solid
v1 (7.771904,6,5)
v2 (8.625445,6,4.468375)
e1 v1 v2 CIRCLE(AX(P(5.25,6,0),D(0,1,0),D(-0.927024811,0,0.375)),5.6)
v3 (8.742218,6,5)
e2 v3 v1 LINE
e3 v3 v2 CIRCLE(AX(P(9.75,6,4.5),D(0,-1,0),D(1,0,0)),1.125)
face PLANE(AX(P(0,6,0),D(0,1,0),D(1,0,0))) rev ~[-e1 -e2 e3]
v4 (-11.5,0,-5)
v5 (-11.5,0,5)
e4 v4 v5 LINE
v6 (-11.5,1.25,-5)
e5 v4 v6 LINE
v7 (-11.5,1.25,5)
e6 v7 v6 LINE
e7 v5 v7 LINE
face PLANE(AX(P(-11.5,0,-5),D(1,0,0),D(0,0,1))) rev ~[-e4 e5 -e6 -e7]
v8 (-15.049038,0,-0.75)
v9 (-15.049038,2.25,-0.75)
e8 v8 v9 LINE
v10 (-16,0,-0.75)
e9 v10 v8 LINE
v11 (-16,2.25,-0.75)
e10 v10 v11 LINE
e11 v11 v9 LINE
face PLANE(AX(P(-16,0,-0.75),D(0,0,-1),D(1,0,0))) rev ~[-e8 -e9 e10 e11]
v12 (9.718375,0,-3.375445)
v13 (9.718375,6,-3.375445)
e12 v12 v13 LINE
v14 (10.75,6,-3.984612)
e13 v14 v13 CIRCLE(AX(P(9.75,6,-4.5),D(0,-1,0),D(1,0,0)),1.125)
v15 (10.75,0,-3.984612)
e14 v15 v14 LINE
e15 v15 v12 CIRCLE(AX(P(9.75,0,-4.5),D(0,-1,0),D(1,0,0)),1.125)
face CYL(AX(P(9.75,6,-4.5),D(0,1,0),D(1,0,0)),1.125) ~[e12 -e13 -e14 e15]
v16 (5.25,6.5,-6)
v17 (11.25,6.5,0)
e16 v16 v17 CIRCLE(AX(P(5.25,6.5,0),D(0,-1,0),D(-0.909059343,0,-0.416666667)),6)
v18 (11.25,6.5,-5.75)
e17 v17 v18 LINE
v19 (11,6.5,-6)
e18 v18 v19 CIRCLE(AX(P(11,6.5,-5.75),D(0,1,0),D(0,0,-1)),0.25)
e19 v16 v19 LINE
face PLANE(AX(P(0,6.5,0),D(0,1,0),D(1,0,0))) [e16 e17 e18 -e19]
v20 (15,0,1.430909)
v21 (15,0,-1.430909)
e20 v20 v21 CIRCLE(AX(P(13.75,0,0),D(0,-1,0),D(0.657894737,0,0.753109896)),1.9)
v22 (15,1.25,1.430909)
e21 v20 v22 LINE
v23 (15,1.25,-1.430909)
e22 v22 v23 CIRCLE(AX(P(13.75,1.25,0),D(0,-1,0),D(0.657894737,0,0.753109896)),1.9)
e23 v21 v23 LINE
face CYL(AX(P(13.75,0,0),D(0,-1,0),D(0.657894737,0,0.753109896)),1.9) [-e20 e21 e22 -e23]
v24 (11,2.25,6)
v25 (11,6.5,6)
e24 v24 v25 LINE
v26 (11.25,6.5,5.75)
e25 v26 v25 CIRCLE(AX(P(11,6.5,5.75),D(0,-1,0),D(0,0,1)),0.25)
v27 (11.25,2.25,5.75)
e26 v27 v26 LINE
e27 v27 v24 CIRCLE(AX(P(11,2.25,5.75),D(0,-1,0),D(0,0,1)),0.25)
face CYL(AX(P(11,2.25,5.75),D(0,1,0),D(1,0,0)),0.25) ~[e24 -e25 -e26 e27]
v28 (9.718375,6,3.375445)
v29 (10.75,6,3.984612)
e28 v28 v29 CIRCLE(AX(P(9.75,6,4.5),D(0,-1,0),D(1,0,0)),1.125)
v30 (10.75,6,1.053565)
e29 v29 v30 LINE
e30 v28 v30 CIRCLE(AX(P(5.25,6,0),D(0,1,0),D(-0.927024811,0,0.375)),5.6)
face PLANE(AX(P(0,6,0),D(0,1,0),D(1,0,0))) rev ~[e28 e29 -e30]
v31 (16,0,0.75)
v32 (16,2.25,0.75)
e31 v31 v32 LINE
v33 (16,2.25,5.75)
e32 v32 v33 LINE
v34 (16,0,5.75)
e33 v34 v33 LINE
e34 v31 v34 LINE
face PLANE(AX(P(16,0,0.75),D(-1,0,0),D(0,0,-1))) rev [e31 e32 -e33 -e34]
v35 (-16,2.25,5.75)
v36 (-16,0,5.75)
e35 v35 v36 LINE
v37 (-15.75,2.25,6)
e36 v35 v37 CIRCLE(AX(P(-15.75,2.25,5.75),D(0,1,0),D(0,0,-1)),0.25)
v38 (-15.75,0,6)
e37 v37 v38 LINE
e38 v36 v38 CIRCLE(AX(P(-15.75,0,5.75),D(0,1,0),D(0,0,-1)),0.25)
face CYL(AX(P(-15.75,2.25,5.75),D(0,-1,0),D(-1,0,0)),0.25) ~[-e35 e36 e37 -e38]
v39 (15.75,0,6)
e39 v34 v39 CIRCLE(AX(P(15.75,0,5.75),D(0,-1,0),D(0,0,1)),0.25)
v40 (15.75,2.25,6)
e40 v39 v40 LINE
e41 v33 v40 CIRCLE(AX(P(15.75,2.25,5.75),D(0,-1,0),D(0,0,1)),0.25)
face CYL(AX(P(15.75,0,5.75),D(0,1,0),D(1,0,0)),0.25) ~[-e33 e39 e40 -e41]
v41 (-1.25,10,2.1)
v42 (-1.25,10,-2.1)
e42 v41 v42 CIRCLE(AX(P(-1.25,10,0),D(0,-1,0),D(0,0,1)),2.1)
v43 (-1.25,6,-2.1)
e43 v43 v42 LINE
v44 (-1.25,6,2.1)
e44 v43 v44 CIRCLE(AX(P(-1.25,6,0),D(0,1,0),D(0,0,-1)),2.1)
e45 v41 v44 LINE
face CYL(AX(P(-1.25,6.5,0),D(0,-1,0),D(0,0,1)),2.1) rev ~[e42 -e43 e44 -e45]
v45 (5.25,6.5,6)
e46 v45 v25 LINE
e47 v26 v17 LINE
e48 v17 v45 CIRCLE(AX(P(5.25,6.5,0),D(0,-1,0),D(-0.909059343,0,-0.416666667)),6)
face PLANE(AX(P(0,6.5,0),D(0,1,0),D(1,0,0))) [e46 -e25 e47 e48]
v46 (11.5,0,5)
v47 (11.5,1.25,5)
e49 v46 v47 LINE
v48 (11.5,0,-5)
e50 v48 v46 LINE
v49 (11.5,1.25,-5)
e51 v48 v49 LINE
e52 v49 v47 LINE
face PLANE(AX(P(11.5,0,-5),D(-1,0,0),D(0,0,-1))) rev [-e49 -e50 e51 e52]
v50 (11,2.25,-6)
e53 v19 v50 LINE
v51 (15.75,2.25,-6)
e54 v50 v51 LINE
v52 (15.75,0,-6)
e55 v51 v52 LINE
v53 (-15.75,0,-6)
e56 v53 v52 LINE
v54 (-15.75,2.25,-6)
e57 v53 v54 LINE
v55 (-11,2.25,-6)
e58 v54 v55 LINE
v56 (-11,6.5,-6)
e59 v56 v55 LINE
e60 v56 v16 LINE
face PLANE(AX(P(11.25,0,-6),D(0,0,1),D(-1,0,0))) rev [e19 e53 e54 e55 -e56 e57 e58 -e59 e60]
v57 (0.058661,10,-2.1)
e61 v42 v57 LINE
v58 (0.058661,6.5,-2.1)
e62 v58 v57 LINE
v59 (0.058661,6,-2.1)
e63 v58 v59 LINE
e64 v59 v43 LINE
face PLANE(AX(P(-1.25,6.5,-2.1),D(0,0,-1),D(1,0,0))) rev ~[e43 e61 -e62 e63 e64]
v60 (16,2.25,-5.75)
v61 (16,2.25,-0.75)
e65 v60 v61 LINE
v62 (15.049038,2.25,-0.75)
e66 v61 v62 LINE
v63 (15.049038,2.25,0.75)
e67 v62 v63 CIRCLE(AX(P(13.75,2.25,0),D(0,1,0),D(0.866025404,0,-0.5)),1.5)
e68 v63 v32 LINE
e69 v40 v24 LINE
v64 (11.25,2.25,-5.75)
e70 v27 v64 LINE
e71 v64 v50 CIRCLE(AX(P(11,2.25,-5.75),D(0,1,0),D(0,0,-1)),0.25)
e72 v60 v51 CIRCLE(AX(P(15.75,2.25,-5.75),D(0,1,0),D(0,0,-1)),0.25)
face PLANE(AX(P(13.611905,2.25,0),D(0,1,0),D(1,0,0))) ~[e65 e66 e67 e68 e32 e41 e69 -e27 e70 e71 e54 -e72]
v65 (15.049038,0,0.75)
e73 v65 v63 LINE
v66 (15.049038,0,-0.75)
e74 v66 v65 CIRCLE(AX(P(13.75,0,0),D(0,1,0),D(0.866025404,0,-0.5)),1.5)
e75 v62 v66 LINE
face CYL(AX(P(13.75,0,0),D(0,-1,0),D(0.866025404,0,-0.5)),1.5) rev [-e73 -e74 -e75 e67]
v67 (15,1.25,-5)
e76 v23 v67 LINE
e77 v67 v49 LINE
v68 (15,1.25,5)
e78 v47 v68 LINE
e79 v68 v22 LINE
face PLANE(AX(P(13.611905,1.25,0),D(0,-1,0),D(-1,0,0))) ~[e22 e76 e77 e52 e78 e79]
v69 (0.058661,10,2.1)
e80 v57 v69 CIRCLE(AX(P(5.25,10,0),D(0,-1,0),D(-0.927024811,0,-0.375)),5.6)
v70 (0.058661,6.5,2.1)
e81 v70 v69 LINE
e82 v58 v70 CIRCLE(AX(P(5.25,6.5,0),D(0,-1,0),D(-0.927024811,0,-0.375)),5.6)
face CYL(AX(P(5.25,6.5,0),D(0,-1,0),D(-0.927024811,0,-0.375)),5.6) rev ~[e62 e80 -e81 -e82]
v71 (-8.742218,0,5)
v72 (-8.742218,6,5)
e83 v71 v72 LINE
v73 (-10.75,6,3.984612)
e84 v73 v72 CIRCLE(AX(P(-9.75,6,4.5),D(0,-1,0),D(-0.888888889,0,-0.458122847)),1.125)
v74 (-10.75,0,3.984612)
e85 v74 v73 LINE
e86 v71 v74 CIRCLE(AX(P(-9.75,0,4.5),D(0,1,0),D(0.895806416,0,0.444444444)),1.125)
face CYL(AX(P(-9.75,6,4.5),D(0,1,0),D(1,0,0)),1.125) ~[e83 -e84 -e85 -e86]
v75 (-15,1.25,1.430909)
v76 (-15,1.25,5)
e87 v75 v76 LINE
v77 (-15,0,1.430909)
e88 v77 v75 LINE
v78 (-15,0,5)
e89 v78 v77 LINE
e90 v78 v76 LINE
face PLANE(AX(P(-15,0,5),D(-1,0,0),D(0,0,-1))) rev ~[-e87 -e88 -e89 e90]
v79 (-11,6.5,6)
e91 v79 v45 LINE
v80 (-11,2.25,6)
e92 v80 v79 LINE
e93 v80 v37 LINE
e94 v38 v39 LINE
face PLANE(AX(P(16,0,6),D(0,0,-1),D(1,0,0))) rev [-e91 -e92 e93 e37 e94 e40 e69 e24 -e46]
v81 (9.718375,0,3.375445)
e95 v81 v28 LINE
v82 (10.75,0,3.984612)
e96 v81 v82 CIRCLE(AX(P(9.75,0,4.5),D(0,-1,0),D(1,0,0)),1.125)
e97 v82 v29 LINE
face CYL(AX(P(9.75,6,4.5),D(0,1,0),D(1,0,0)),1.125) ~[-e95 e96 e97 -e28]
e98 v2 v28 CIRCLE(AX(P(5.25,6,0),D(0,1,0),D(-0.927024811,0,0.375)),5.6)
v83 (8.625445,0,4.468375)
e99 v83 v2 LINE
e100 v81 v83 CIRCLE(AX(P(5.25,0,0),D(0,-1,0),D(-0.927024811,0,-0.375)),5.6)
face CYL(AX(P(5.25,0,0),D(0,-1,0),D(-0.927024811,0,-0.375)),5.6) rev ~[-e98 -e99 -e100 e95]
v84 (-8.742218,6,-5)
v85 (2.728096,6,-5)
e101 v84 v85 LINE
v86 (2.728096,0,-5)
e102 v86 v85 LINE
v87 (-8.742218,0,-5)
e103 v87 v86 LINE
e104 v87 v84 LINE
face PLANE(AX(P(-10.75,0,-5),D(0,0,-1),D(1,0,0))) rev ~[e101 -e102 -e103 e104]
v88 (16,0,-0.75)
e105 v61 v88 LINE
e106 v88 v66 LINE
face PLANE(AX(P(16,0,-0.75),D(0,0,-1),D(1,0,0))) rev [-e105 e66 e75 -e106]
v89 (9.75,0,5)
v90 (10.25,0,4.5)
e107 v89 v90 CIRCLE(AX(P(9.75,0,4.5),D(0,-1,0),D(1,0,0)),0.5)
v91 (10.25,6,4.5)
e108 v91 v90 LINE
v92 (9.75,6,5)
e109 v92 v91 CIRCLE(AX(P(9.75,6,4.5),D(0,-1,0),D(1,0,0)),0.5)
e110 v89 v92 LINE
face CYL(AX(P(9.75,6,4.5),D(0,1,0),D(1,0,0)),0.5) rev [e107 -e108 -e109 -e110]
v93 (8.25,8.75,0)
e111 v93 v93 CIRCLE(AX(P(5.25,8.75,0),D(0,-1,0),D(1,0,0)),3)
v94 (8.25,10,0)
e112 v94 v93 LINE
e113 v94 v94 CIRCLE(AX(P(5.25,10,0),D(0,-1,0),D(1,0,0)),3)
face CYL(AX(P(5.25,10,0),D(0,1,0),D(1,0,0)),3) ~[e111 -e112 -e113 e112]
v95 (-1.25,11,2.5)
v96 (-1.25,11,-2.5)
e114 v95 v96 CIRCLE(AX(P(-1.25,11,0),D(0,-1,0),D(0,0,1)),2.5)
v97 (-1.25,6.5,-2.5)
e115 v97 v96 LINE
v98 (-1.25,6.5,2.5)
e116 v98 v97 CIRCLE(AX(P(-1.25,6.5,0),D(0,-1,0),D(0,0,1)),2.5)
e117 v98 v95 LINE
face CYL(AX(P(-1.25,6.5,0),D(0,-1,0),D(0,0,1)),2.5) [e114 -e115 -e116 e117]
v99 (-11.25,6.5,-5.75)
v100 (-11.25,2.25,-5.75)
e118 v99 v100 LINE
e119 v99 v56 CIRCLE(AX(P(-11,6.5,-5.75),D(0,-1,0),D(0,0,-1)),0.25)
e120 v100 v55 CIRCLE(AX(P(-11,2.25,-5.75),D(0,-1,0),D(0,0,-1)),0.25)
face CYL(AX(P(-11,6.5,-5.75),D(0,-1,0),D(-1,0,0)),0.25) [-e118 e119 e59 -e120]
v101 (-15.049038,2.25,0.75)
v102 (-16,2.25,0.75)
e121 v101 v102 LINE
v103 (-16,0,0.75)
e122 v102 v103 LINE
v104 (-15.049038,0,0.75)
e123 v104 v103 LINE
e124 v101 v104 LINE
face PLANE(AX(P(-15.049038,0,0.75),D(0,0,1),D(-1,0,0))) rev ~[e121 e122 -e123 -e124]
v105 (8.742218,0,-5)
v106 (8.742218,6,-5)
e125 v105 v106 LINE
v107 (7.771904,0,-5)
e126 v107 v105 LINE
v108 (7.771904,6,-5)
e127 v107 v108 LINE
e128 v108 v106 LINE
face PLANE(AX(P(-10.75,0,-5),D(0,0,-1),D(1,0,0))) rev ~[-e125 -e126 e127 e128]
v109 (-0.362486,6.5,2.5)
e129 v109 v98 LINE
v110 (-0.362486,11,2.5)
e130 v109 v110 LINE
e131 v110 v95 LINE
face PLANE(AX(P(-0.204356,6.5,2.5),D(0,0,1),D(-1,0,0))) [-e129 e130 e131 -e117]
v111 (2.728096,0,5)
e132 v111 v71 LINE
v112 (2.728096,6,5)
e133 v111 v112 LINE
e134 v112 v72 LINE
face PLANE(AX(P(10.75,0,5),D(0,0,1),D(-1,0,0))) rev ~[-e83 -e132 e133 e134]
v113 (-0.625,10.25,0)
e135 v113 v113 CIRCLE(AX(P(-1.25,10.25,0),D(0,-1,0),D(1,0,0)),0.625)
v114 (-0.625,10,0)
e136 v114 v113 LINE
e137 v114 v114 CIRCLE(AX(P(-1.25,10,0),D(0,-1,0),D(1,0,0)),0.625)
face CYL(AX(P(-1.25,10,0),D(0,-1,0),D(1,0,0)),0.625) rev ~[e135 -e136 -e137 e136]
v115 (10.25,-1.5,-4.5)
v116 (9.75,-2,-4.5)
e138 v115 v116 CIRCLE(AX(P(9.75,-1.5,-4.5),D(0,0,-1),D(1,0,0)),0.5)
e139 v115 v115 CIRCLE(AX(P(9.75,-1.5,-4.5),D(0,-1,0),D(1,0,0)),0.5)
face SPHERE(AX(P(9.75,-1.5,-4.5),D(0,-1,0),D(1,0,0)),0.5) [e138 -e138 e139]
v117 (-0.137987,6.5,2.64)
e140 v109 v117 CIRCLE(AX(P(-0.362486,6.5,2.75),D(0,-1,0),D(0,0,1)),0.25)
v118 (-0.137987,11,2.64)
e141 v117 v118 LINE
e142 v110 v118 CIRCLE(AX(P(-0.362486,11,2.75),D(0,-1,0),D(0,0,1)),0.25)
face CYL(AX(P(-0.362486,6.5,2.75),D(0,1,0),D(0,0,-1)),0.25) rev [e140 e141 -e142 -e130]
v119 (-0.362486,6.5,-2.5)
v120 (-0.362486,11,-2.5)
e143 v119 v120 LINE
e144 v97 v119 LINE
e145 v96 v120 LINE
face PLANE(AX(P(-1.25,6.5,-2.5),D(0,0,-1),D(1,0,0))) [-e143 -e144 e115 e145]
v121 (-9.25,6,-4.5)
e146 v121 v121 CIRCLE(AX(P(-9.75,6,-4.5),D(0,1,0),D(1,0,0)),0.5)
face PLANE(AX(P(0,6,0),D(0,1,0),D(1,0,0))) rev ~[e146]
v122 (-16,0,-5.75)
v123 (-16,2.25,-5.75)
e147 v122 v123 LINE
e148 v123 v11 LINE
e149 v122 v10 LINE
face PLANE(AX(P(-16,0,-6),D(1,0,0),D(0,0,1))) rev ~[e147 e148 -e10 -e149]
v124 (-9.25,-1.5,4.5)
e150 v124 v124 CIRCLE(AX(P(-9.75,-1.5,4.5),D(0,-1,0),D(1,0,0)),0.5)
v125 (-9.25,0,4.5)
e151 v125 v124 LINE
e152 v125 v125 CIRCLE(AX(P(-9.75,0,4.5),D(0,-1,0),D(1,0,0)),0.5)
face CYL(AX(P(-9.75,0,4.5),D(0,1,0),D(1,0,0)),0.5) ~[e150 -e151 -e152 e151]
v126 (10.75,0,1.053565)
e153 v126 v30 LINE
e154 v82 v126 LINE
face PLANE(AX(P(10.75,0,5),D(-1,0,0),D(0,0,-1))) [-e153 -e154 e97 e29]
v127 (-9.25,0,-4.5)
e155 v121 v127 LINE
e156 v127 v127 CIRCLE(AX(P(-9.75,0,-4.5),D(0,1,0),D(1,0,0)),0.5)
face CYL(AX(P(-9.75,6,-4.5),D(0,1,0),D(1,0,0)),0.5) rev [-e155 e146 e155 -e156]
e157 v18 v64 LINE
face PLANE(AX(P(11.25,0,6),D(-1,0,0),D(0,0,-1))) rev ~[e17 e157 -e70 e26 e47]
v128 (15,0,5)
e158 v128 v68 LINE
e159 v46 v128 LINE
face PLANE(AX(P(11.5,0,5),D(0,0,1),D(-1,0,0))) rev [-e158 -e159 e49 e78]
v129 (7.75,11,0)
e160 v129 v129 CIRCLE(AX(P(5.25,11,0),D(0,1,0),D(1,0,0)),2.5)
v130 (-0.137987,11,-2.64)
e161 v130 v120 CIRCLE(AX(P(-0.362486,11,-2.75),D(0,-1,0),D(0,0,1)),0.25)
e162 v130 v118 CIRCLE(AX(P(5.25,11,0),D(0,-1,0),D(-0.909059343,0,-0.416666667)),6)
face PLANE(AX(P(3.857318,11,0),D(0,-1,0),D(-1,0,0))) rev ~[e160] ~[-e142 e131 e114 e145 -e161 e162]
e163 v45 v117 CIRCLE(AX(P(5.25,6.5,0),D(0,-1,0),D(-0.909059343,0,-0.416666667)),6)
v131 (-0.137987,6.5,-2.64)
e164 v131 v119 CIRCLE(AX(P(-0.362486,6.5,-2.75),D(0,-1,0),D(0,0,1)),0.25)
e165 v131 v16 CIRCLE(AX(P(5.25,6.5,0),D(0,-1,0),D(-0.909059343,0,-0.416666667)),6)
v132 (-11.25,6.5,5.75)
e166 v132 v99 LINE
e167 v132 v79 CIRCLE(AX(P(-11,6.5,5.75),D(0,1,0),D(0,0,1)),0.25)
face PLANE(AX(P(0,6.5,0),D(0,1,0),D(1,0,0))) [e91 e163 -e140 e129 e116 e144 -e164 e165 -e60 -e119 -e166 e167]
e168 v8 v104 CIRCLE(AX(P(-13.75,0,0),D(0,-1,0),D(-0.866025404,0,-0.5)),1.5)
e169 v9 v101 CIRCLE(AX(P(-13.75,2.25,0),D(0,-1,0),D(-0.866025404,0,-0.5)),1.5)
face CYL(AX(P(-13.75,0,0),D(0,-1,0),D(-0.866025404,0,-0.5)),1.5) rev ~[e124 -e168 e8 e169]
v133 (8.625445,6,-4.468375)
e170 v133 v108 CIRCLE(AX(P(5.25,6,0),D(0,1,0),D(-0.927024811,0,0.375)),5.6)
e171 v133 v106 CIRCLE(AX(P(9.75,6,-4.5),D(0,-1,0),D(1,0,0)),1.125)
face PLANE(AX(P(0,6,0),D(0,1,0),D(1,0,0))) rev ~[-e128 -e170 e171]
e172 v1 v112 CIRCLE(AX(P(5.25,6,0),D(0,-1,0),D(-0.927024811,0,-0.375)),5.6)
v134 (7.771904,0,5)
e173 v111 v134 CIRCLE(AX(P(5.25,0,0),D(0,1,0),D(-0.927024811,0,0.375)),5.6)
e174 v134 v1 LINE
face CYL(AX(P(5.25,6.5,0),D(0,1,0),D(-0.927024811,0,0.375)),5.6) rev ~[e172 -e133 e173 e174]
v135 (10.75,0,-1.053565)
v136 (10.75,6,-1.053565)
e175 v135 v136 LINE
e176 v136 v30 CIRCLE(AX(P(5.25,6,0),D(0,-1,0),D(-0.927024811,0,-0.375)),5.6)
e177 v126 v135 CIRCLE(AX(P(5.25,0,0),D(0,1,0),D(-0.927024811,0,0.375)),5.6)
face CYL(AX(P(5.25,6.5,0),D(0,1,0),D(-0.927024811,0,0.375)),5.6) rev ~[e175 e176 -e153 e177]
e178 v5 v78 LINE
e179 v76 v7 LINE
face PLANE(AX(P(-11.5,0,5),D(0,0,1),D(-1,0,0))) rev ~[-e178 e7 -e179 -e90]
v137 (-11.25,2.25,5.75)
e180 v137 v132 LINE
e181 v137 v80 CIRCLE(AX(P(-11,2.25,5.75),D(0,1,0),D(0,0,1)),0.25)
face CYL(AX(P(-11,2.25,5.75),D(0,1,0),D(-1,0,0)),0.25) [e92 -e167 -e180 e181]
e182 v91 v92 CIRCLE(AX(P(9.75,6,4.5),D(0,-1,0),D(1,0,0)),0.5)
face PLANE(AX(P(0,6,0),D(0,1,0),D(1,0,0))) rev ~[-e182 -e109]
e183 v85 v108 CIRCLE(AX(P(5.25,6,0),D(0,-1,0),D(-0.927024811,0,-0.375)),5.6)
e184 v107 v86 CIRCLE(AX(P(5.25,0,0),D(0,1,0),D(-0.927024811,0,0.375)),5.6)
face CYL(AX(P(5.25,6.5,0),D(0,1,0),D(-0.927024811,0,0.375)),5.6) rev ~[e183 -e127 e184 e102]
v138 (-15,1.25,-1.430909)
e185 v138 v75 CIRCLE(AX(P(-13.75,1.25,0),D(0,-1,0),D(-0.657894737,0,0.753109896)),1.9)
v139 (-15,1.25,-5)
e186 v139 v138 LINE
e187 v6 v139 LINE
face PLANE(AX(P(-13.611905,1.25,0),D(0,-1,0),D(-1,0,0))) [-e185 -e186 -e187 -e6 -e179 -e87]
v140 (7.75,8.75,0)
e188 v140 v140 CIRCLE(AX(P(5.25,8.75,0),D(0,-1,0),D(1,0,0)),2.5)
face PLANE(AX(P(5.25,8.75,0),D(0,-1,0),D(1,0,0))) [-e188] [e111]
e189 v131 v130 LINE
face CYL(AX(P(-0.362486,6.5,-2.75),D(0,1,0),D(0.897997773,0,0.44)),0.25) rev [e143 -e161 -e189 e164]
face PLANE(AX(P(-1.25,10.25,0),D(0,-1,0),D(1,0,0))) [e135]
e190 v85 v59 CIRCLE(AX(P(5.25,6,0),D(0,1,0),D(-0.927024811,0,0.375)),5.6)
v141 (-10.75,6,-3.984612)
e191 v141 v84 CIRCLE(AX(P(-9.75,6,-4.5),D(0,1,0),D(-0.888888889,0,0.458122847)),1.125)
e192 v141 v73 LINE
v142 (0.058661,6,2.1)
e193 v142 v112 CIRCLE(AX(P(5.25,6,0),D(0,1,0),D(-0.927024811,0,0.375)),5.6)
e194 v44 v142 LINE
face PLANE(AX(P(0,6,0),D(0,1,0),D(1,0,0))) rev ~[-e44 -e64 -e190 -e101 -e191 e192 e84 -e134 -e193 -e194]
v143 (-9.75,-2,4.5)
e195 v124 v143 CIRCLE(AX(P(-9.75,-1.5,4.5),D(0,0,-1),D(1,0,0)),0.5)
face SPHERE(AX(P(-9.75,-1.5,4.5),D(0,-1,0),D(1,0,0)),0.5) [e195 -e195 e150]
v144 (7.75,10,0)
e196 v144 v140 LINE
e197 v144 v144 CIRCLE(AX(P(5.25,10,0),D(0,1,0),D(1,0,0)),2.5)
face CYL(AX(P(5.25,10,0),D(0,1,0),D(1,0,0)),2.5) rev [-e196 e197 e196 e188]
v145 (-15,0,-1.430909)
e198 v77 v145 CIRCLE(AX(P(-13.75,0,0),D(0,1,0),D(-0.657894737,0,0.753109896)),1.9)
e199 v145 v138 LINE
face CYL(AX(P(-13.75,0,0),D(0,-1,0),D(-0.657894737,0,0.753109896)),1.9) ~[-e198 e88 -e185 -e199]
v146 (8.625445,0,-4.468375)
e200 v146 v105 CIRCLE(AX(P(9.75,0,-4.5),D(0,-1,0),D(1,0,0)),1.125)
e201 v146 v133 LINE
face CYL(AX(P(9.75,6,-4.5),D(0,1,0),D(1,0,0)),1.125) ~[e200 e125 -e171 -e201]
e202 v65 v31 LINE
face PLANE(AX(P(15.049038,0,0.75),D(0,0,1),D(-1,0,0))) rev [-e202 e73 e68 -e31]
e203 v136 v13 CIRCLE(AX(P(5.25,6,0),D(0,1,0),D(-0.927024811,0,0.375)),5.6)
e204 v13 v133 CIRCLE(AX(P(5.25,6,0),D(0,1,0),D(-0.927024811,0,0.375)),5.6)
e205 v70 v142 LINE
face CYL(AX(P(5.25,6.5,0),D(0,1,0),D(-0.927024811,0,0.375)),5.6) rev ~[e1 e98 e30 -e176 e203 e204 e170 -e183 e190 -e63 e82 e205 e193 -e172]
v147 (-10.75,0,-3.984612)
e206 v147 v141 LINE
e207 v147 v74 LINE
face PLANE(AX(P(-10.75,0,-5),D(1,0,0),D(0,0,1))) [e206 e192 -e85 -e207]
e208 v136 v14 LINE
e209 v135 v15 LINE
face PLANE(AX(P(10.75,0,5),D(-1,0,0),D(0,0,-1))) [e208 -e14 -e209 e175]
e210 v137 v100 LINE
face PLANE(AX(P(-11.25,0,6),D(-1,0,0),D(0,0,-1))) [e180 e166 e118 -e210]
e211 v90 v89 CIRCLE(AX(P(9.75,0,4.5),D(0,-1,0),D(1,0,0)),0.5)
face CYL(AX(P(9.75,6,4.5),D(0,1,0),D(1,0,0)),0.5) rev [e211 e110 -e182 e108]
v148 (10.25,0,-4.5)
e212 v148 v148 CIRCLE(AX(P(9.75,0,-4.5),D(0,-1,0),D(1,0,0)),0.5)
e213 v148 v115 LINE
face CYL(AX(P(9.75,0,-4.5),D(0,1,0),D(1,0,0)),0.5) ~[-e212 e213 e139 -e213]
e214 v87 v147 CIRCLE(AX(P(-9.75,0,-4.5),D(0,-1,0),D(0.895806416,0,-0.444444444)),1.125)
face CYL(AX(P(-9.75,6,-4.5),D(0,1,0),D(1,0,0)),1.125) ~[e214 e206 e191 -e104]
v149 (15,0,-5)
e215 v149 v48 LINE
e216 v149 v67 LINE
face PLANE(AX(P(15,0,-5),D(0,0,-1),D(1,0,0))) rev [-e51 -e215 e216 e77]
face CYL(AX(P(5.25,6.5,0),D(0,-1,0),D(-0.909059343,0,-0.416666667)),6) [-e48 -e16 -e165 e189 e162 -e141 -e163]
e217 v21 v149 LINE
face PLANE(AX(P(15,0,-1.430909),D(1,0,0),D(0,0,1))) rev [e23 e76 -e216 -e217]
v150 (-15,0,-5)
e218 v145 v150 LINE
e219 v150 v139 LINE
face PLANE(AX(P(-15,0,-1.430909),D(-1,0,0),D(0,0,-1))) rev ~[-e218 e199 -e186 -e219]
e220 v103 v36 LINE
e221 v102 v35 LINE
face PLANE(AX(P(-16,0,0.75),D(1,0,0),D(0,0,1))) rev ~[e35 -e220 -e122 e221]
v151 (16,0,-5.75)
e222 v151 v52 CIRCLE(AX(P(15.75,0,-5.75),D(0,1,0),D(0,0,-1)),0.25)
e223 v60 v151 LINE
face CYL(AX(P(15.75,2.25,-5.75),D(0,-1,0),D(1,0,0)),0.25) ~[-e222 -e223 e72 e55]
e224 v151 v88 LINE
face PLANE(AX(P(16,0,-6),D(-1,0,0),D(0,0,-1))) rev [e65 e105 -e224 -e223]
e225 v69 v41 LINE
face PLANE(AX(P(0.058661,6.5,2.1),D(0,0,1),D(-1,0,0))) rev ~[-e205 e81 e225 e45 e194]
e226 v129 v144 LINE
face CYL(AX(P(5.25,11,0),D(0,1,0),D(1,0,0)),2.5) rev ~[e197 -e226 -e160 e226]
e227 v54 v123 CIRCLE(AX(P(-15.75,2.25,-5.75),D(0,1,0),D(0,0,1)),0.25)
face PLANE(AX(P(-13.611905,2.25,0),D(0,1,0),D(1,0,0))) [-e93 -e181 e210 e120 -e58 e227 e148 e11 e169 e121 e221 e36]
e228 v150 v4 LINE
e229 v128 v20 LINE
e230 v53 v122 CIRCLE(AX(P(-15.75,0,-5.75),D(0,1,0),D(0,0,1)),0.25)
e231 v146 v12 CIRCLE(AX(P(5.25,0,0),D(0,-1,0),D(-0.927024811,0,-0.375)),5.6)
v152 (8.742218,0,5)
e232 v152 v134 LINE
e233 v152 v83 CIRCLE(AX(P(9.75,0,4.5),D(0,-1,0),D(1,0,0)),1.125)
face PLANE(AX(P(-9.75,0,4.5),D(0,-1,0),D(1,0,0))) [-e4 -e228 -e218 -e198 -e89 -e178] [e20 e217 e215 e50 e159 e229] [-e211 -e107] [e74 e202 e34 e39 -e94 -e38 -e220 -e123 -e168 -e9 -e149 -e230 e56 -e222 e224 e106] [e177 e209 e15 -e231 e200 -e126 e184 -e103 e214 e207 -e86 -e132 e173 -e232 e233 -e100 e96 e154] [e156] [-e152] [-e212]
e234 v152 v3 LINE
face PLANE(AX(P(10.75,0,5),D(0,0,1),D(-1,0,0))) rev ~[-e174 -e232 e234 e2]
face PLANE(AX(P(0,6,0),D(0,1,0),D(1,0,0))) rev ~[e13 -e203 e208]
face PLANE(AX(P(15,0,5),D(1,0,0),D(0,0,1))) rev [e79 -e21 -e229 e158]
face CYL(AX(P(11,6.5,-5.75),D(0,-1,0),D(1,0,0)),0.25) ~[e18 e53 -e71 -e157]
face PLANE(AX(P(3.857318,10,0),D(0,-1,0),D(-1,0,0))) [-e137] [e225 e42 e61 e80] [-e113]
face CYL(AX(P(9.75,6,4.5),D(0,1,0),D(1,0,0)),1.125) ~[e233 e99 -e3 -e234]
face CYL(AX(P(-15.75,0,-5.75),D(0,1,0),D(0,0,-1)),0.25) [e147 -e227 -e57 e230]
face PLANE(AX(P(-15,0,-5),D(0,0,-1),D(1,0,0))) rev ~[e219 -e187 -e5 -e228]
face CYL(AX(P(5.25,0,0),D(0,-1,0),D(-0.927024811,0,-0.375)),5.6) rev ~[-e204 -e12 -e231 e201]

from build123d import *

# Parameters (mm, degrees)
SKETCH1_W            = 22.5
SKETCH1_H            = 12
BOSS_EXTRUDE1_DEPTH  = 6.5
SKETCH2_W            = 22.5
SKETCH2_H            = 12
BOSS_EXTRUDE2_DEPTH  = 0.5
BOSS_EXTRUDE3_DEPTH  = 4.5
SKETCH4_R            = 2.5
BOSS_EXTRUDE4_DEPTH  = 1
CUT_EXTRUDE1_DEPTH   = 7.5
SKETCH6_R            = 3
SKETCH6_R_2          = 2.5
BOSS_EXTRUDE5_DEPTH  = 1.25
BOSS_EXTRUDE7_DEPTH  = 2.25
BOSS_EXTRUDE8_DEPTH  = 1
SKETCH9_R            = 0.625
CUT_EXTRUDE2_DEPTH   = 0.25
SKETCH11_R           = 1.125
SKETCH11_R_2         = 0.5
BOSS_EXTRUDE9_DEPTH  = 6
SKETCH12_R           = 0.5
BOSS_EXTRUDE10_DEPTH = 2
FILLET1_R            = 0.5
FILLET2_R            = 0.25
CUT_EXTRUDE3_DEPTH   = 6


with BuildPart() as part:
    # Sketch1 → Boss-Extrude1 (new body)
    with BuildSketch(Plane(origin=(0, 0, 0), x_dir=(1, 0, 0), z_dir=(0, 1, 0))):
        Rectangle(SKETCH1_W, SKETCH1_H)
        Polygon((10.25, 5), (-10.25, 5), (-10.75, 5), (-10.75, -5), (-10.25, -5), (10.25, -5), (10.75, -5), (10.75, 5), align=None, mode=Mode.SUBTRACT)
    extrude(amount=BOSS_EXTRUDE1_DEPTH)

    # Sketch2 → Boss-Extrude2 (add)
    with BuildSketch(Plane(origin=(0, 6.5, 0), x_dir=(1, 0, 0), z_dir=(0, 1, 0))):
        Rectangle(SKETCH2_W, SKETCH2_H)
    extrude(amount=-BOSS_EXTRUDE2_DEPTH)

    # Sketch3 → Boss-Extrude3 (add)
    with BuildSketch(Plane(origin=(0, 6.5, 0), x_dir=(1, 0, 0), z_dir=(0, 1, 0))):
        with BuildLine():
            Line((-1.25, 2.5), (-0.204356057, 2.5))
            ThreePointArc((-0.204356057, 2.5), (11.25, 0), (-0.204356057, -2.5))
            Line((-0.204356057, -2.5), (-1.25, -2.5))
            ThreePointArc((-1.25, -2.5), (-3.75, 0), (-1.25, 2.5))
        make_face()
        with BuildLine():
            Line((-1.25, 2.1), (0.058661059, 2.1))
            ThreePointArc((0.058661059, 2.1), (10.85, 0), (0.058661059, -2.1))
            Line((0.058661059, -2.1), (-1.25, -2.1))
            ThreePointArc((-1.25, -2.1), (-3.35, 0), (-1.25, 2.1))
        make_face(mode=Mode.SUBTRACT)
    extrude(amount=BOSS_EXTRUDE3_DEPTH)

    # Sketch4 → Boss-Extrude4 (add)
    with BuildSketch(Plane(origin=(0, 11, 0), x_dir=(1, 0, 0), z_dir=(0, 1, 0))):
        with BuildLine():
            ThreePointArc((-1.25, -2.1), (-3.35, 0), (-1.25, 2.1))
            Line((-1.25, 2.1), (0.058661059, 2.1))
            ThreePointArc((0.058661059, 2.1), (10.85, 0), (0.058661059, -2.1))
            Line((0.058661059, -2.1), (-1.25, -2.1))
        make_face()
        with Locations((5.25, 0)):
            Circle(SKETCH4_R, mode=Mode.SUBTRACT)
    extrude(amount=-BOSS_EXTRUDE4_DEPTH)

    # Sketch5 → Cut-Extrude1 (cut, through all)
    with BuildSketch(Plane(origin=(0, 6.5, 0), x_dir=(1, 0, 0), z_dir=(0, 1, 0))):
        with BuildLine():
            Line((-1.25, -2.1), (0.058661059, -2.1))
            ThreePointArc((0.058661059, -2.1), (10.85, 0), (0.058661059, 2.1))
            Line((0.058661059, 2.1), (-1.25, 2.1))
            ThreePointArc((-1.25, 2.1), (-3.35, 0), (-1.25, -2.1))
        make_face()
    extrude(amount=-CUT_EXTRUDE1_DEPTH, mode=Mode.SUBTRACT)

    # Sketch6 → Boss-Extrude5 (add)
    with BuildSketch(Plane.XZ.offset(-10)):
        with Locations((5.25, 0)):
            Circle(SKETCH6_R)
        with Locations((5.25, 0)):
            Circle(SKETCH6_R_2, mode=Mode.SUBTRACT)
    extrude(amount=BOSS_EXTRUDE5_DEPTH)

    # Sketch7 → Boss-Extrude7 (add)
    with BuildSketch(Plane(origin=(0, 0, 0), x_dir=(1, 0, 0), z_dir=(0, 1, 0))):
        with BuildLine():
            Line((-11.25, -6), (-11.25, 6))
            Line((-11.25, 6), (-16, 6))
            Line((-16, 6), (-16, 0.75))
            Line((-16, 0.75), (-15.049038106, 0.75))
            ThreePointArc((-15.049038106, 0.75), (-12.25, 0), (-15.049038106, -0.75))
            Line((-15.049038106, -0.75), (-16, -0.75))
            Line((-16, -0.75), (-16, -6))
            Line((-16, -6), (-11.25, -6))
        make_face()
        with BuildLine():
            Line((-15, 1.430908802), (-15, 5))
            Line((-15, 5), (-11.5, 5))
            Line((-11.5, 5), (-11.5, -5))
            Line((-11.5, -5), (-15, -5))
            Line((-15, -5), (-15, -1.430908802))
            ThreePointArc((-15, -1.430908802), (-11.85, 0), (-15, 1.430908802))
        make_face(mode=Mode.SUBTRACT)
    boss_extrude7 = extrude(amount=BOSS_EXTRUDE7_DEPTH)

    # Sketch8 → Boss-Extrude8 (add)
    with BuildSketch(Plane(origin=(0, 2.25, 0), x_dir=(1, 0, 0), z_dir=(0, 1, 0))):
        with BuildLine():
            Line((-15.049038106, 0.75), (-16, 0.75))
            Line((-16, 0.75), (-16, 6))
            Line((-16, 6), (-11.25, 6))
            Line((-11.25, 6), (-11.25, -6))
            Line((-11.25, -6), (-16, -6))
            Line((-16, -6), (-16, -0.75))
            Line((-16, -0.75), (-15.049038106, -0.75))
            ThreePointArc((-15.049038106, -0.75), (-12.25, 0), (-15.049038106, 0.75))
        make_face()
    boss_extrude8 = extrude(amount=-BOSS_EXTRUDE8_DEPTH)

    # Mirror1: Boss-Extrude7, Boss-Extrude8 across plane
    add(boss_extrude7.mirror(Plane(origin=(0, 0, 0), x_dir=(0, 0, 1), z_dir=(1, 0, 0))))
    add(boss_extrude8.mirror(Plane(origin=(0, 0, 0), x_dir=(0, 0, 1), z_dir=(1, 0, 0))))

    # Sketch9 → Cut-Extrude2 (cut)
    with BuildSketch(Plane.XZ.offset(-10)):
        with Locations((-1.25, 0)):
            Circle(SKETCH9_R)
    extrude(amount=-CUT_EXTRUDE2_DEPTH, mode=Mode.SUBTRACT)

    # Sketch11 → Boss-Extrude9 (add)
    with BuildSketch(Plane.XZ.offset(-6)):
        with Locations((-9.75, 4.5)):
            Circle(SKETCH11_R)
        with Locations((-9.75, -4.5)):
            Circle(SKETCH11_R)
        with Locations((-9.75, -4.5)):
            Circle(SKETCH11_R_2, mode=Mode.SUBTRACT)
        with Locations((9.75, -4.5)):
            Circle(SKETCH11_R)
        with Locations((9.75, 4.5)):
            Circle(SKETCH11_R)
        with Locations((9.75, 4.5)):
            Circle(SKETCH11_R_2, mode=Mode.SUBTRACT)
    extrude(amount=BOSS_EXTRUDE9_DEPTH)

    # Sketch12 → Boss-Extrude10 (add)
    with BuildSketch(Plane.XZ):
        with Locations((-9.75, 4.5)):
            Circle(SKETCH12_R)
        with Locations((9.75, -4.5)):
            Circle(SKETCH12_R)
    extrude(amount=BOSS_EXTRUDE10_DEPTH)

    # Fillet1
    fillet1_edges = [part.edges().sort_by_distance(p)[0] for p in [
        (-10.25, -2, 4.5),
        (9.25, -2, -4.5),
    ]]
    fillet(fillet1_edges, radius=FILLET1_R)

    # Fillet2
    fillet2_edges = [part.edges().sort_by_distance(p)[0] for p in [
        (-16, 1.125, 6),
        (-16, 1.125, -6),
        (16, 1.125, -6),
        (16, 1.125, 6),
        (-0.204356057, 8.75, -2.5),
        (-0.204356057, 8.75, 2.5),
        (-11.25, 4.375, -6),
        (11.25, 4.375, -6),
        (11.25, 4.375, 6),
        (-11.25, 4.375, 6),
    ]]
    fillet(fillet2_edges, radius=FILLET2_R)

    # Sketch13 → Cut-Extrude3 (cut)
    with BuildSketch(Plane.XZ):
        with BuildLine():
            Line((0.058661059, 2.1), (0.058661059, -2.1))
            ThreePointArc((0.058661059, -2.1), (10.85, 0), (0.058661059, 2.1))
        make_face()
    extrude(amount=-CUT_EXTRUDE3_DEPTH, mode=Mode.SUBTRACT)


solid = part.part
